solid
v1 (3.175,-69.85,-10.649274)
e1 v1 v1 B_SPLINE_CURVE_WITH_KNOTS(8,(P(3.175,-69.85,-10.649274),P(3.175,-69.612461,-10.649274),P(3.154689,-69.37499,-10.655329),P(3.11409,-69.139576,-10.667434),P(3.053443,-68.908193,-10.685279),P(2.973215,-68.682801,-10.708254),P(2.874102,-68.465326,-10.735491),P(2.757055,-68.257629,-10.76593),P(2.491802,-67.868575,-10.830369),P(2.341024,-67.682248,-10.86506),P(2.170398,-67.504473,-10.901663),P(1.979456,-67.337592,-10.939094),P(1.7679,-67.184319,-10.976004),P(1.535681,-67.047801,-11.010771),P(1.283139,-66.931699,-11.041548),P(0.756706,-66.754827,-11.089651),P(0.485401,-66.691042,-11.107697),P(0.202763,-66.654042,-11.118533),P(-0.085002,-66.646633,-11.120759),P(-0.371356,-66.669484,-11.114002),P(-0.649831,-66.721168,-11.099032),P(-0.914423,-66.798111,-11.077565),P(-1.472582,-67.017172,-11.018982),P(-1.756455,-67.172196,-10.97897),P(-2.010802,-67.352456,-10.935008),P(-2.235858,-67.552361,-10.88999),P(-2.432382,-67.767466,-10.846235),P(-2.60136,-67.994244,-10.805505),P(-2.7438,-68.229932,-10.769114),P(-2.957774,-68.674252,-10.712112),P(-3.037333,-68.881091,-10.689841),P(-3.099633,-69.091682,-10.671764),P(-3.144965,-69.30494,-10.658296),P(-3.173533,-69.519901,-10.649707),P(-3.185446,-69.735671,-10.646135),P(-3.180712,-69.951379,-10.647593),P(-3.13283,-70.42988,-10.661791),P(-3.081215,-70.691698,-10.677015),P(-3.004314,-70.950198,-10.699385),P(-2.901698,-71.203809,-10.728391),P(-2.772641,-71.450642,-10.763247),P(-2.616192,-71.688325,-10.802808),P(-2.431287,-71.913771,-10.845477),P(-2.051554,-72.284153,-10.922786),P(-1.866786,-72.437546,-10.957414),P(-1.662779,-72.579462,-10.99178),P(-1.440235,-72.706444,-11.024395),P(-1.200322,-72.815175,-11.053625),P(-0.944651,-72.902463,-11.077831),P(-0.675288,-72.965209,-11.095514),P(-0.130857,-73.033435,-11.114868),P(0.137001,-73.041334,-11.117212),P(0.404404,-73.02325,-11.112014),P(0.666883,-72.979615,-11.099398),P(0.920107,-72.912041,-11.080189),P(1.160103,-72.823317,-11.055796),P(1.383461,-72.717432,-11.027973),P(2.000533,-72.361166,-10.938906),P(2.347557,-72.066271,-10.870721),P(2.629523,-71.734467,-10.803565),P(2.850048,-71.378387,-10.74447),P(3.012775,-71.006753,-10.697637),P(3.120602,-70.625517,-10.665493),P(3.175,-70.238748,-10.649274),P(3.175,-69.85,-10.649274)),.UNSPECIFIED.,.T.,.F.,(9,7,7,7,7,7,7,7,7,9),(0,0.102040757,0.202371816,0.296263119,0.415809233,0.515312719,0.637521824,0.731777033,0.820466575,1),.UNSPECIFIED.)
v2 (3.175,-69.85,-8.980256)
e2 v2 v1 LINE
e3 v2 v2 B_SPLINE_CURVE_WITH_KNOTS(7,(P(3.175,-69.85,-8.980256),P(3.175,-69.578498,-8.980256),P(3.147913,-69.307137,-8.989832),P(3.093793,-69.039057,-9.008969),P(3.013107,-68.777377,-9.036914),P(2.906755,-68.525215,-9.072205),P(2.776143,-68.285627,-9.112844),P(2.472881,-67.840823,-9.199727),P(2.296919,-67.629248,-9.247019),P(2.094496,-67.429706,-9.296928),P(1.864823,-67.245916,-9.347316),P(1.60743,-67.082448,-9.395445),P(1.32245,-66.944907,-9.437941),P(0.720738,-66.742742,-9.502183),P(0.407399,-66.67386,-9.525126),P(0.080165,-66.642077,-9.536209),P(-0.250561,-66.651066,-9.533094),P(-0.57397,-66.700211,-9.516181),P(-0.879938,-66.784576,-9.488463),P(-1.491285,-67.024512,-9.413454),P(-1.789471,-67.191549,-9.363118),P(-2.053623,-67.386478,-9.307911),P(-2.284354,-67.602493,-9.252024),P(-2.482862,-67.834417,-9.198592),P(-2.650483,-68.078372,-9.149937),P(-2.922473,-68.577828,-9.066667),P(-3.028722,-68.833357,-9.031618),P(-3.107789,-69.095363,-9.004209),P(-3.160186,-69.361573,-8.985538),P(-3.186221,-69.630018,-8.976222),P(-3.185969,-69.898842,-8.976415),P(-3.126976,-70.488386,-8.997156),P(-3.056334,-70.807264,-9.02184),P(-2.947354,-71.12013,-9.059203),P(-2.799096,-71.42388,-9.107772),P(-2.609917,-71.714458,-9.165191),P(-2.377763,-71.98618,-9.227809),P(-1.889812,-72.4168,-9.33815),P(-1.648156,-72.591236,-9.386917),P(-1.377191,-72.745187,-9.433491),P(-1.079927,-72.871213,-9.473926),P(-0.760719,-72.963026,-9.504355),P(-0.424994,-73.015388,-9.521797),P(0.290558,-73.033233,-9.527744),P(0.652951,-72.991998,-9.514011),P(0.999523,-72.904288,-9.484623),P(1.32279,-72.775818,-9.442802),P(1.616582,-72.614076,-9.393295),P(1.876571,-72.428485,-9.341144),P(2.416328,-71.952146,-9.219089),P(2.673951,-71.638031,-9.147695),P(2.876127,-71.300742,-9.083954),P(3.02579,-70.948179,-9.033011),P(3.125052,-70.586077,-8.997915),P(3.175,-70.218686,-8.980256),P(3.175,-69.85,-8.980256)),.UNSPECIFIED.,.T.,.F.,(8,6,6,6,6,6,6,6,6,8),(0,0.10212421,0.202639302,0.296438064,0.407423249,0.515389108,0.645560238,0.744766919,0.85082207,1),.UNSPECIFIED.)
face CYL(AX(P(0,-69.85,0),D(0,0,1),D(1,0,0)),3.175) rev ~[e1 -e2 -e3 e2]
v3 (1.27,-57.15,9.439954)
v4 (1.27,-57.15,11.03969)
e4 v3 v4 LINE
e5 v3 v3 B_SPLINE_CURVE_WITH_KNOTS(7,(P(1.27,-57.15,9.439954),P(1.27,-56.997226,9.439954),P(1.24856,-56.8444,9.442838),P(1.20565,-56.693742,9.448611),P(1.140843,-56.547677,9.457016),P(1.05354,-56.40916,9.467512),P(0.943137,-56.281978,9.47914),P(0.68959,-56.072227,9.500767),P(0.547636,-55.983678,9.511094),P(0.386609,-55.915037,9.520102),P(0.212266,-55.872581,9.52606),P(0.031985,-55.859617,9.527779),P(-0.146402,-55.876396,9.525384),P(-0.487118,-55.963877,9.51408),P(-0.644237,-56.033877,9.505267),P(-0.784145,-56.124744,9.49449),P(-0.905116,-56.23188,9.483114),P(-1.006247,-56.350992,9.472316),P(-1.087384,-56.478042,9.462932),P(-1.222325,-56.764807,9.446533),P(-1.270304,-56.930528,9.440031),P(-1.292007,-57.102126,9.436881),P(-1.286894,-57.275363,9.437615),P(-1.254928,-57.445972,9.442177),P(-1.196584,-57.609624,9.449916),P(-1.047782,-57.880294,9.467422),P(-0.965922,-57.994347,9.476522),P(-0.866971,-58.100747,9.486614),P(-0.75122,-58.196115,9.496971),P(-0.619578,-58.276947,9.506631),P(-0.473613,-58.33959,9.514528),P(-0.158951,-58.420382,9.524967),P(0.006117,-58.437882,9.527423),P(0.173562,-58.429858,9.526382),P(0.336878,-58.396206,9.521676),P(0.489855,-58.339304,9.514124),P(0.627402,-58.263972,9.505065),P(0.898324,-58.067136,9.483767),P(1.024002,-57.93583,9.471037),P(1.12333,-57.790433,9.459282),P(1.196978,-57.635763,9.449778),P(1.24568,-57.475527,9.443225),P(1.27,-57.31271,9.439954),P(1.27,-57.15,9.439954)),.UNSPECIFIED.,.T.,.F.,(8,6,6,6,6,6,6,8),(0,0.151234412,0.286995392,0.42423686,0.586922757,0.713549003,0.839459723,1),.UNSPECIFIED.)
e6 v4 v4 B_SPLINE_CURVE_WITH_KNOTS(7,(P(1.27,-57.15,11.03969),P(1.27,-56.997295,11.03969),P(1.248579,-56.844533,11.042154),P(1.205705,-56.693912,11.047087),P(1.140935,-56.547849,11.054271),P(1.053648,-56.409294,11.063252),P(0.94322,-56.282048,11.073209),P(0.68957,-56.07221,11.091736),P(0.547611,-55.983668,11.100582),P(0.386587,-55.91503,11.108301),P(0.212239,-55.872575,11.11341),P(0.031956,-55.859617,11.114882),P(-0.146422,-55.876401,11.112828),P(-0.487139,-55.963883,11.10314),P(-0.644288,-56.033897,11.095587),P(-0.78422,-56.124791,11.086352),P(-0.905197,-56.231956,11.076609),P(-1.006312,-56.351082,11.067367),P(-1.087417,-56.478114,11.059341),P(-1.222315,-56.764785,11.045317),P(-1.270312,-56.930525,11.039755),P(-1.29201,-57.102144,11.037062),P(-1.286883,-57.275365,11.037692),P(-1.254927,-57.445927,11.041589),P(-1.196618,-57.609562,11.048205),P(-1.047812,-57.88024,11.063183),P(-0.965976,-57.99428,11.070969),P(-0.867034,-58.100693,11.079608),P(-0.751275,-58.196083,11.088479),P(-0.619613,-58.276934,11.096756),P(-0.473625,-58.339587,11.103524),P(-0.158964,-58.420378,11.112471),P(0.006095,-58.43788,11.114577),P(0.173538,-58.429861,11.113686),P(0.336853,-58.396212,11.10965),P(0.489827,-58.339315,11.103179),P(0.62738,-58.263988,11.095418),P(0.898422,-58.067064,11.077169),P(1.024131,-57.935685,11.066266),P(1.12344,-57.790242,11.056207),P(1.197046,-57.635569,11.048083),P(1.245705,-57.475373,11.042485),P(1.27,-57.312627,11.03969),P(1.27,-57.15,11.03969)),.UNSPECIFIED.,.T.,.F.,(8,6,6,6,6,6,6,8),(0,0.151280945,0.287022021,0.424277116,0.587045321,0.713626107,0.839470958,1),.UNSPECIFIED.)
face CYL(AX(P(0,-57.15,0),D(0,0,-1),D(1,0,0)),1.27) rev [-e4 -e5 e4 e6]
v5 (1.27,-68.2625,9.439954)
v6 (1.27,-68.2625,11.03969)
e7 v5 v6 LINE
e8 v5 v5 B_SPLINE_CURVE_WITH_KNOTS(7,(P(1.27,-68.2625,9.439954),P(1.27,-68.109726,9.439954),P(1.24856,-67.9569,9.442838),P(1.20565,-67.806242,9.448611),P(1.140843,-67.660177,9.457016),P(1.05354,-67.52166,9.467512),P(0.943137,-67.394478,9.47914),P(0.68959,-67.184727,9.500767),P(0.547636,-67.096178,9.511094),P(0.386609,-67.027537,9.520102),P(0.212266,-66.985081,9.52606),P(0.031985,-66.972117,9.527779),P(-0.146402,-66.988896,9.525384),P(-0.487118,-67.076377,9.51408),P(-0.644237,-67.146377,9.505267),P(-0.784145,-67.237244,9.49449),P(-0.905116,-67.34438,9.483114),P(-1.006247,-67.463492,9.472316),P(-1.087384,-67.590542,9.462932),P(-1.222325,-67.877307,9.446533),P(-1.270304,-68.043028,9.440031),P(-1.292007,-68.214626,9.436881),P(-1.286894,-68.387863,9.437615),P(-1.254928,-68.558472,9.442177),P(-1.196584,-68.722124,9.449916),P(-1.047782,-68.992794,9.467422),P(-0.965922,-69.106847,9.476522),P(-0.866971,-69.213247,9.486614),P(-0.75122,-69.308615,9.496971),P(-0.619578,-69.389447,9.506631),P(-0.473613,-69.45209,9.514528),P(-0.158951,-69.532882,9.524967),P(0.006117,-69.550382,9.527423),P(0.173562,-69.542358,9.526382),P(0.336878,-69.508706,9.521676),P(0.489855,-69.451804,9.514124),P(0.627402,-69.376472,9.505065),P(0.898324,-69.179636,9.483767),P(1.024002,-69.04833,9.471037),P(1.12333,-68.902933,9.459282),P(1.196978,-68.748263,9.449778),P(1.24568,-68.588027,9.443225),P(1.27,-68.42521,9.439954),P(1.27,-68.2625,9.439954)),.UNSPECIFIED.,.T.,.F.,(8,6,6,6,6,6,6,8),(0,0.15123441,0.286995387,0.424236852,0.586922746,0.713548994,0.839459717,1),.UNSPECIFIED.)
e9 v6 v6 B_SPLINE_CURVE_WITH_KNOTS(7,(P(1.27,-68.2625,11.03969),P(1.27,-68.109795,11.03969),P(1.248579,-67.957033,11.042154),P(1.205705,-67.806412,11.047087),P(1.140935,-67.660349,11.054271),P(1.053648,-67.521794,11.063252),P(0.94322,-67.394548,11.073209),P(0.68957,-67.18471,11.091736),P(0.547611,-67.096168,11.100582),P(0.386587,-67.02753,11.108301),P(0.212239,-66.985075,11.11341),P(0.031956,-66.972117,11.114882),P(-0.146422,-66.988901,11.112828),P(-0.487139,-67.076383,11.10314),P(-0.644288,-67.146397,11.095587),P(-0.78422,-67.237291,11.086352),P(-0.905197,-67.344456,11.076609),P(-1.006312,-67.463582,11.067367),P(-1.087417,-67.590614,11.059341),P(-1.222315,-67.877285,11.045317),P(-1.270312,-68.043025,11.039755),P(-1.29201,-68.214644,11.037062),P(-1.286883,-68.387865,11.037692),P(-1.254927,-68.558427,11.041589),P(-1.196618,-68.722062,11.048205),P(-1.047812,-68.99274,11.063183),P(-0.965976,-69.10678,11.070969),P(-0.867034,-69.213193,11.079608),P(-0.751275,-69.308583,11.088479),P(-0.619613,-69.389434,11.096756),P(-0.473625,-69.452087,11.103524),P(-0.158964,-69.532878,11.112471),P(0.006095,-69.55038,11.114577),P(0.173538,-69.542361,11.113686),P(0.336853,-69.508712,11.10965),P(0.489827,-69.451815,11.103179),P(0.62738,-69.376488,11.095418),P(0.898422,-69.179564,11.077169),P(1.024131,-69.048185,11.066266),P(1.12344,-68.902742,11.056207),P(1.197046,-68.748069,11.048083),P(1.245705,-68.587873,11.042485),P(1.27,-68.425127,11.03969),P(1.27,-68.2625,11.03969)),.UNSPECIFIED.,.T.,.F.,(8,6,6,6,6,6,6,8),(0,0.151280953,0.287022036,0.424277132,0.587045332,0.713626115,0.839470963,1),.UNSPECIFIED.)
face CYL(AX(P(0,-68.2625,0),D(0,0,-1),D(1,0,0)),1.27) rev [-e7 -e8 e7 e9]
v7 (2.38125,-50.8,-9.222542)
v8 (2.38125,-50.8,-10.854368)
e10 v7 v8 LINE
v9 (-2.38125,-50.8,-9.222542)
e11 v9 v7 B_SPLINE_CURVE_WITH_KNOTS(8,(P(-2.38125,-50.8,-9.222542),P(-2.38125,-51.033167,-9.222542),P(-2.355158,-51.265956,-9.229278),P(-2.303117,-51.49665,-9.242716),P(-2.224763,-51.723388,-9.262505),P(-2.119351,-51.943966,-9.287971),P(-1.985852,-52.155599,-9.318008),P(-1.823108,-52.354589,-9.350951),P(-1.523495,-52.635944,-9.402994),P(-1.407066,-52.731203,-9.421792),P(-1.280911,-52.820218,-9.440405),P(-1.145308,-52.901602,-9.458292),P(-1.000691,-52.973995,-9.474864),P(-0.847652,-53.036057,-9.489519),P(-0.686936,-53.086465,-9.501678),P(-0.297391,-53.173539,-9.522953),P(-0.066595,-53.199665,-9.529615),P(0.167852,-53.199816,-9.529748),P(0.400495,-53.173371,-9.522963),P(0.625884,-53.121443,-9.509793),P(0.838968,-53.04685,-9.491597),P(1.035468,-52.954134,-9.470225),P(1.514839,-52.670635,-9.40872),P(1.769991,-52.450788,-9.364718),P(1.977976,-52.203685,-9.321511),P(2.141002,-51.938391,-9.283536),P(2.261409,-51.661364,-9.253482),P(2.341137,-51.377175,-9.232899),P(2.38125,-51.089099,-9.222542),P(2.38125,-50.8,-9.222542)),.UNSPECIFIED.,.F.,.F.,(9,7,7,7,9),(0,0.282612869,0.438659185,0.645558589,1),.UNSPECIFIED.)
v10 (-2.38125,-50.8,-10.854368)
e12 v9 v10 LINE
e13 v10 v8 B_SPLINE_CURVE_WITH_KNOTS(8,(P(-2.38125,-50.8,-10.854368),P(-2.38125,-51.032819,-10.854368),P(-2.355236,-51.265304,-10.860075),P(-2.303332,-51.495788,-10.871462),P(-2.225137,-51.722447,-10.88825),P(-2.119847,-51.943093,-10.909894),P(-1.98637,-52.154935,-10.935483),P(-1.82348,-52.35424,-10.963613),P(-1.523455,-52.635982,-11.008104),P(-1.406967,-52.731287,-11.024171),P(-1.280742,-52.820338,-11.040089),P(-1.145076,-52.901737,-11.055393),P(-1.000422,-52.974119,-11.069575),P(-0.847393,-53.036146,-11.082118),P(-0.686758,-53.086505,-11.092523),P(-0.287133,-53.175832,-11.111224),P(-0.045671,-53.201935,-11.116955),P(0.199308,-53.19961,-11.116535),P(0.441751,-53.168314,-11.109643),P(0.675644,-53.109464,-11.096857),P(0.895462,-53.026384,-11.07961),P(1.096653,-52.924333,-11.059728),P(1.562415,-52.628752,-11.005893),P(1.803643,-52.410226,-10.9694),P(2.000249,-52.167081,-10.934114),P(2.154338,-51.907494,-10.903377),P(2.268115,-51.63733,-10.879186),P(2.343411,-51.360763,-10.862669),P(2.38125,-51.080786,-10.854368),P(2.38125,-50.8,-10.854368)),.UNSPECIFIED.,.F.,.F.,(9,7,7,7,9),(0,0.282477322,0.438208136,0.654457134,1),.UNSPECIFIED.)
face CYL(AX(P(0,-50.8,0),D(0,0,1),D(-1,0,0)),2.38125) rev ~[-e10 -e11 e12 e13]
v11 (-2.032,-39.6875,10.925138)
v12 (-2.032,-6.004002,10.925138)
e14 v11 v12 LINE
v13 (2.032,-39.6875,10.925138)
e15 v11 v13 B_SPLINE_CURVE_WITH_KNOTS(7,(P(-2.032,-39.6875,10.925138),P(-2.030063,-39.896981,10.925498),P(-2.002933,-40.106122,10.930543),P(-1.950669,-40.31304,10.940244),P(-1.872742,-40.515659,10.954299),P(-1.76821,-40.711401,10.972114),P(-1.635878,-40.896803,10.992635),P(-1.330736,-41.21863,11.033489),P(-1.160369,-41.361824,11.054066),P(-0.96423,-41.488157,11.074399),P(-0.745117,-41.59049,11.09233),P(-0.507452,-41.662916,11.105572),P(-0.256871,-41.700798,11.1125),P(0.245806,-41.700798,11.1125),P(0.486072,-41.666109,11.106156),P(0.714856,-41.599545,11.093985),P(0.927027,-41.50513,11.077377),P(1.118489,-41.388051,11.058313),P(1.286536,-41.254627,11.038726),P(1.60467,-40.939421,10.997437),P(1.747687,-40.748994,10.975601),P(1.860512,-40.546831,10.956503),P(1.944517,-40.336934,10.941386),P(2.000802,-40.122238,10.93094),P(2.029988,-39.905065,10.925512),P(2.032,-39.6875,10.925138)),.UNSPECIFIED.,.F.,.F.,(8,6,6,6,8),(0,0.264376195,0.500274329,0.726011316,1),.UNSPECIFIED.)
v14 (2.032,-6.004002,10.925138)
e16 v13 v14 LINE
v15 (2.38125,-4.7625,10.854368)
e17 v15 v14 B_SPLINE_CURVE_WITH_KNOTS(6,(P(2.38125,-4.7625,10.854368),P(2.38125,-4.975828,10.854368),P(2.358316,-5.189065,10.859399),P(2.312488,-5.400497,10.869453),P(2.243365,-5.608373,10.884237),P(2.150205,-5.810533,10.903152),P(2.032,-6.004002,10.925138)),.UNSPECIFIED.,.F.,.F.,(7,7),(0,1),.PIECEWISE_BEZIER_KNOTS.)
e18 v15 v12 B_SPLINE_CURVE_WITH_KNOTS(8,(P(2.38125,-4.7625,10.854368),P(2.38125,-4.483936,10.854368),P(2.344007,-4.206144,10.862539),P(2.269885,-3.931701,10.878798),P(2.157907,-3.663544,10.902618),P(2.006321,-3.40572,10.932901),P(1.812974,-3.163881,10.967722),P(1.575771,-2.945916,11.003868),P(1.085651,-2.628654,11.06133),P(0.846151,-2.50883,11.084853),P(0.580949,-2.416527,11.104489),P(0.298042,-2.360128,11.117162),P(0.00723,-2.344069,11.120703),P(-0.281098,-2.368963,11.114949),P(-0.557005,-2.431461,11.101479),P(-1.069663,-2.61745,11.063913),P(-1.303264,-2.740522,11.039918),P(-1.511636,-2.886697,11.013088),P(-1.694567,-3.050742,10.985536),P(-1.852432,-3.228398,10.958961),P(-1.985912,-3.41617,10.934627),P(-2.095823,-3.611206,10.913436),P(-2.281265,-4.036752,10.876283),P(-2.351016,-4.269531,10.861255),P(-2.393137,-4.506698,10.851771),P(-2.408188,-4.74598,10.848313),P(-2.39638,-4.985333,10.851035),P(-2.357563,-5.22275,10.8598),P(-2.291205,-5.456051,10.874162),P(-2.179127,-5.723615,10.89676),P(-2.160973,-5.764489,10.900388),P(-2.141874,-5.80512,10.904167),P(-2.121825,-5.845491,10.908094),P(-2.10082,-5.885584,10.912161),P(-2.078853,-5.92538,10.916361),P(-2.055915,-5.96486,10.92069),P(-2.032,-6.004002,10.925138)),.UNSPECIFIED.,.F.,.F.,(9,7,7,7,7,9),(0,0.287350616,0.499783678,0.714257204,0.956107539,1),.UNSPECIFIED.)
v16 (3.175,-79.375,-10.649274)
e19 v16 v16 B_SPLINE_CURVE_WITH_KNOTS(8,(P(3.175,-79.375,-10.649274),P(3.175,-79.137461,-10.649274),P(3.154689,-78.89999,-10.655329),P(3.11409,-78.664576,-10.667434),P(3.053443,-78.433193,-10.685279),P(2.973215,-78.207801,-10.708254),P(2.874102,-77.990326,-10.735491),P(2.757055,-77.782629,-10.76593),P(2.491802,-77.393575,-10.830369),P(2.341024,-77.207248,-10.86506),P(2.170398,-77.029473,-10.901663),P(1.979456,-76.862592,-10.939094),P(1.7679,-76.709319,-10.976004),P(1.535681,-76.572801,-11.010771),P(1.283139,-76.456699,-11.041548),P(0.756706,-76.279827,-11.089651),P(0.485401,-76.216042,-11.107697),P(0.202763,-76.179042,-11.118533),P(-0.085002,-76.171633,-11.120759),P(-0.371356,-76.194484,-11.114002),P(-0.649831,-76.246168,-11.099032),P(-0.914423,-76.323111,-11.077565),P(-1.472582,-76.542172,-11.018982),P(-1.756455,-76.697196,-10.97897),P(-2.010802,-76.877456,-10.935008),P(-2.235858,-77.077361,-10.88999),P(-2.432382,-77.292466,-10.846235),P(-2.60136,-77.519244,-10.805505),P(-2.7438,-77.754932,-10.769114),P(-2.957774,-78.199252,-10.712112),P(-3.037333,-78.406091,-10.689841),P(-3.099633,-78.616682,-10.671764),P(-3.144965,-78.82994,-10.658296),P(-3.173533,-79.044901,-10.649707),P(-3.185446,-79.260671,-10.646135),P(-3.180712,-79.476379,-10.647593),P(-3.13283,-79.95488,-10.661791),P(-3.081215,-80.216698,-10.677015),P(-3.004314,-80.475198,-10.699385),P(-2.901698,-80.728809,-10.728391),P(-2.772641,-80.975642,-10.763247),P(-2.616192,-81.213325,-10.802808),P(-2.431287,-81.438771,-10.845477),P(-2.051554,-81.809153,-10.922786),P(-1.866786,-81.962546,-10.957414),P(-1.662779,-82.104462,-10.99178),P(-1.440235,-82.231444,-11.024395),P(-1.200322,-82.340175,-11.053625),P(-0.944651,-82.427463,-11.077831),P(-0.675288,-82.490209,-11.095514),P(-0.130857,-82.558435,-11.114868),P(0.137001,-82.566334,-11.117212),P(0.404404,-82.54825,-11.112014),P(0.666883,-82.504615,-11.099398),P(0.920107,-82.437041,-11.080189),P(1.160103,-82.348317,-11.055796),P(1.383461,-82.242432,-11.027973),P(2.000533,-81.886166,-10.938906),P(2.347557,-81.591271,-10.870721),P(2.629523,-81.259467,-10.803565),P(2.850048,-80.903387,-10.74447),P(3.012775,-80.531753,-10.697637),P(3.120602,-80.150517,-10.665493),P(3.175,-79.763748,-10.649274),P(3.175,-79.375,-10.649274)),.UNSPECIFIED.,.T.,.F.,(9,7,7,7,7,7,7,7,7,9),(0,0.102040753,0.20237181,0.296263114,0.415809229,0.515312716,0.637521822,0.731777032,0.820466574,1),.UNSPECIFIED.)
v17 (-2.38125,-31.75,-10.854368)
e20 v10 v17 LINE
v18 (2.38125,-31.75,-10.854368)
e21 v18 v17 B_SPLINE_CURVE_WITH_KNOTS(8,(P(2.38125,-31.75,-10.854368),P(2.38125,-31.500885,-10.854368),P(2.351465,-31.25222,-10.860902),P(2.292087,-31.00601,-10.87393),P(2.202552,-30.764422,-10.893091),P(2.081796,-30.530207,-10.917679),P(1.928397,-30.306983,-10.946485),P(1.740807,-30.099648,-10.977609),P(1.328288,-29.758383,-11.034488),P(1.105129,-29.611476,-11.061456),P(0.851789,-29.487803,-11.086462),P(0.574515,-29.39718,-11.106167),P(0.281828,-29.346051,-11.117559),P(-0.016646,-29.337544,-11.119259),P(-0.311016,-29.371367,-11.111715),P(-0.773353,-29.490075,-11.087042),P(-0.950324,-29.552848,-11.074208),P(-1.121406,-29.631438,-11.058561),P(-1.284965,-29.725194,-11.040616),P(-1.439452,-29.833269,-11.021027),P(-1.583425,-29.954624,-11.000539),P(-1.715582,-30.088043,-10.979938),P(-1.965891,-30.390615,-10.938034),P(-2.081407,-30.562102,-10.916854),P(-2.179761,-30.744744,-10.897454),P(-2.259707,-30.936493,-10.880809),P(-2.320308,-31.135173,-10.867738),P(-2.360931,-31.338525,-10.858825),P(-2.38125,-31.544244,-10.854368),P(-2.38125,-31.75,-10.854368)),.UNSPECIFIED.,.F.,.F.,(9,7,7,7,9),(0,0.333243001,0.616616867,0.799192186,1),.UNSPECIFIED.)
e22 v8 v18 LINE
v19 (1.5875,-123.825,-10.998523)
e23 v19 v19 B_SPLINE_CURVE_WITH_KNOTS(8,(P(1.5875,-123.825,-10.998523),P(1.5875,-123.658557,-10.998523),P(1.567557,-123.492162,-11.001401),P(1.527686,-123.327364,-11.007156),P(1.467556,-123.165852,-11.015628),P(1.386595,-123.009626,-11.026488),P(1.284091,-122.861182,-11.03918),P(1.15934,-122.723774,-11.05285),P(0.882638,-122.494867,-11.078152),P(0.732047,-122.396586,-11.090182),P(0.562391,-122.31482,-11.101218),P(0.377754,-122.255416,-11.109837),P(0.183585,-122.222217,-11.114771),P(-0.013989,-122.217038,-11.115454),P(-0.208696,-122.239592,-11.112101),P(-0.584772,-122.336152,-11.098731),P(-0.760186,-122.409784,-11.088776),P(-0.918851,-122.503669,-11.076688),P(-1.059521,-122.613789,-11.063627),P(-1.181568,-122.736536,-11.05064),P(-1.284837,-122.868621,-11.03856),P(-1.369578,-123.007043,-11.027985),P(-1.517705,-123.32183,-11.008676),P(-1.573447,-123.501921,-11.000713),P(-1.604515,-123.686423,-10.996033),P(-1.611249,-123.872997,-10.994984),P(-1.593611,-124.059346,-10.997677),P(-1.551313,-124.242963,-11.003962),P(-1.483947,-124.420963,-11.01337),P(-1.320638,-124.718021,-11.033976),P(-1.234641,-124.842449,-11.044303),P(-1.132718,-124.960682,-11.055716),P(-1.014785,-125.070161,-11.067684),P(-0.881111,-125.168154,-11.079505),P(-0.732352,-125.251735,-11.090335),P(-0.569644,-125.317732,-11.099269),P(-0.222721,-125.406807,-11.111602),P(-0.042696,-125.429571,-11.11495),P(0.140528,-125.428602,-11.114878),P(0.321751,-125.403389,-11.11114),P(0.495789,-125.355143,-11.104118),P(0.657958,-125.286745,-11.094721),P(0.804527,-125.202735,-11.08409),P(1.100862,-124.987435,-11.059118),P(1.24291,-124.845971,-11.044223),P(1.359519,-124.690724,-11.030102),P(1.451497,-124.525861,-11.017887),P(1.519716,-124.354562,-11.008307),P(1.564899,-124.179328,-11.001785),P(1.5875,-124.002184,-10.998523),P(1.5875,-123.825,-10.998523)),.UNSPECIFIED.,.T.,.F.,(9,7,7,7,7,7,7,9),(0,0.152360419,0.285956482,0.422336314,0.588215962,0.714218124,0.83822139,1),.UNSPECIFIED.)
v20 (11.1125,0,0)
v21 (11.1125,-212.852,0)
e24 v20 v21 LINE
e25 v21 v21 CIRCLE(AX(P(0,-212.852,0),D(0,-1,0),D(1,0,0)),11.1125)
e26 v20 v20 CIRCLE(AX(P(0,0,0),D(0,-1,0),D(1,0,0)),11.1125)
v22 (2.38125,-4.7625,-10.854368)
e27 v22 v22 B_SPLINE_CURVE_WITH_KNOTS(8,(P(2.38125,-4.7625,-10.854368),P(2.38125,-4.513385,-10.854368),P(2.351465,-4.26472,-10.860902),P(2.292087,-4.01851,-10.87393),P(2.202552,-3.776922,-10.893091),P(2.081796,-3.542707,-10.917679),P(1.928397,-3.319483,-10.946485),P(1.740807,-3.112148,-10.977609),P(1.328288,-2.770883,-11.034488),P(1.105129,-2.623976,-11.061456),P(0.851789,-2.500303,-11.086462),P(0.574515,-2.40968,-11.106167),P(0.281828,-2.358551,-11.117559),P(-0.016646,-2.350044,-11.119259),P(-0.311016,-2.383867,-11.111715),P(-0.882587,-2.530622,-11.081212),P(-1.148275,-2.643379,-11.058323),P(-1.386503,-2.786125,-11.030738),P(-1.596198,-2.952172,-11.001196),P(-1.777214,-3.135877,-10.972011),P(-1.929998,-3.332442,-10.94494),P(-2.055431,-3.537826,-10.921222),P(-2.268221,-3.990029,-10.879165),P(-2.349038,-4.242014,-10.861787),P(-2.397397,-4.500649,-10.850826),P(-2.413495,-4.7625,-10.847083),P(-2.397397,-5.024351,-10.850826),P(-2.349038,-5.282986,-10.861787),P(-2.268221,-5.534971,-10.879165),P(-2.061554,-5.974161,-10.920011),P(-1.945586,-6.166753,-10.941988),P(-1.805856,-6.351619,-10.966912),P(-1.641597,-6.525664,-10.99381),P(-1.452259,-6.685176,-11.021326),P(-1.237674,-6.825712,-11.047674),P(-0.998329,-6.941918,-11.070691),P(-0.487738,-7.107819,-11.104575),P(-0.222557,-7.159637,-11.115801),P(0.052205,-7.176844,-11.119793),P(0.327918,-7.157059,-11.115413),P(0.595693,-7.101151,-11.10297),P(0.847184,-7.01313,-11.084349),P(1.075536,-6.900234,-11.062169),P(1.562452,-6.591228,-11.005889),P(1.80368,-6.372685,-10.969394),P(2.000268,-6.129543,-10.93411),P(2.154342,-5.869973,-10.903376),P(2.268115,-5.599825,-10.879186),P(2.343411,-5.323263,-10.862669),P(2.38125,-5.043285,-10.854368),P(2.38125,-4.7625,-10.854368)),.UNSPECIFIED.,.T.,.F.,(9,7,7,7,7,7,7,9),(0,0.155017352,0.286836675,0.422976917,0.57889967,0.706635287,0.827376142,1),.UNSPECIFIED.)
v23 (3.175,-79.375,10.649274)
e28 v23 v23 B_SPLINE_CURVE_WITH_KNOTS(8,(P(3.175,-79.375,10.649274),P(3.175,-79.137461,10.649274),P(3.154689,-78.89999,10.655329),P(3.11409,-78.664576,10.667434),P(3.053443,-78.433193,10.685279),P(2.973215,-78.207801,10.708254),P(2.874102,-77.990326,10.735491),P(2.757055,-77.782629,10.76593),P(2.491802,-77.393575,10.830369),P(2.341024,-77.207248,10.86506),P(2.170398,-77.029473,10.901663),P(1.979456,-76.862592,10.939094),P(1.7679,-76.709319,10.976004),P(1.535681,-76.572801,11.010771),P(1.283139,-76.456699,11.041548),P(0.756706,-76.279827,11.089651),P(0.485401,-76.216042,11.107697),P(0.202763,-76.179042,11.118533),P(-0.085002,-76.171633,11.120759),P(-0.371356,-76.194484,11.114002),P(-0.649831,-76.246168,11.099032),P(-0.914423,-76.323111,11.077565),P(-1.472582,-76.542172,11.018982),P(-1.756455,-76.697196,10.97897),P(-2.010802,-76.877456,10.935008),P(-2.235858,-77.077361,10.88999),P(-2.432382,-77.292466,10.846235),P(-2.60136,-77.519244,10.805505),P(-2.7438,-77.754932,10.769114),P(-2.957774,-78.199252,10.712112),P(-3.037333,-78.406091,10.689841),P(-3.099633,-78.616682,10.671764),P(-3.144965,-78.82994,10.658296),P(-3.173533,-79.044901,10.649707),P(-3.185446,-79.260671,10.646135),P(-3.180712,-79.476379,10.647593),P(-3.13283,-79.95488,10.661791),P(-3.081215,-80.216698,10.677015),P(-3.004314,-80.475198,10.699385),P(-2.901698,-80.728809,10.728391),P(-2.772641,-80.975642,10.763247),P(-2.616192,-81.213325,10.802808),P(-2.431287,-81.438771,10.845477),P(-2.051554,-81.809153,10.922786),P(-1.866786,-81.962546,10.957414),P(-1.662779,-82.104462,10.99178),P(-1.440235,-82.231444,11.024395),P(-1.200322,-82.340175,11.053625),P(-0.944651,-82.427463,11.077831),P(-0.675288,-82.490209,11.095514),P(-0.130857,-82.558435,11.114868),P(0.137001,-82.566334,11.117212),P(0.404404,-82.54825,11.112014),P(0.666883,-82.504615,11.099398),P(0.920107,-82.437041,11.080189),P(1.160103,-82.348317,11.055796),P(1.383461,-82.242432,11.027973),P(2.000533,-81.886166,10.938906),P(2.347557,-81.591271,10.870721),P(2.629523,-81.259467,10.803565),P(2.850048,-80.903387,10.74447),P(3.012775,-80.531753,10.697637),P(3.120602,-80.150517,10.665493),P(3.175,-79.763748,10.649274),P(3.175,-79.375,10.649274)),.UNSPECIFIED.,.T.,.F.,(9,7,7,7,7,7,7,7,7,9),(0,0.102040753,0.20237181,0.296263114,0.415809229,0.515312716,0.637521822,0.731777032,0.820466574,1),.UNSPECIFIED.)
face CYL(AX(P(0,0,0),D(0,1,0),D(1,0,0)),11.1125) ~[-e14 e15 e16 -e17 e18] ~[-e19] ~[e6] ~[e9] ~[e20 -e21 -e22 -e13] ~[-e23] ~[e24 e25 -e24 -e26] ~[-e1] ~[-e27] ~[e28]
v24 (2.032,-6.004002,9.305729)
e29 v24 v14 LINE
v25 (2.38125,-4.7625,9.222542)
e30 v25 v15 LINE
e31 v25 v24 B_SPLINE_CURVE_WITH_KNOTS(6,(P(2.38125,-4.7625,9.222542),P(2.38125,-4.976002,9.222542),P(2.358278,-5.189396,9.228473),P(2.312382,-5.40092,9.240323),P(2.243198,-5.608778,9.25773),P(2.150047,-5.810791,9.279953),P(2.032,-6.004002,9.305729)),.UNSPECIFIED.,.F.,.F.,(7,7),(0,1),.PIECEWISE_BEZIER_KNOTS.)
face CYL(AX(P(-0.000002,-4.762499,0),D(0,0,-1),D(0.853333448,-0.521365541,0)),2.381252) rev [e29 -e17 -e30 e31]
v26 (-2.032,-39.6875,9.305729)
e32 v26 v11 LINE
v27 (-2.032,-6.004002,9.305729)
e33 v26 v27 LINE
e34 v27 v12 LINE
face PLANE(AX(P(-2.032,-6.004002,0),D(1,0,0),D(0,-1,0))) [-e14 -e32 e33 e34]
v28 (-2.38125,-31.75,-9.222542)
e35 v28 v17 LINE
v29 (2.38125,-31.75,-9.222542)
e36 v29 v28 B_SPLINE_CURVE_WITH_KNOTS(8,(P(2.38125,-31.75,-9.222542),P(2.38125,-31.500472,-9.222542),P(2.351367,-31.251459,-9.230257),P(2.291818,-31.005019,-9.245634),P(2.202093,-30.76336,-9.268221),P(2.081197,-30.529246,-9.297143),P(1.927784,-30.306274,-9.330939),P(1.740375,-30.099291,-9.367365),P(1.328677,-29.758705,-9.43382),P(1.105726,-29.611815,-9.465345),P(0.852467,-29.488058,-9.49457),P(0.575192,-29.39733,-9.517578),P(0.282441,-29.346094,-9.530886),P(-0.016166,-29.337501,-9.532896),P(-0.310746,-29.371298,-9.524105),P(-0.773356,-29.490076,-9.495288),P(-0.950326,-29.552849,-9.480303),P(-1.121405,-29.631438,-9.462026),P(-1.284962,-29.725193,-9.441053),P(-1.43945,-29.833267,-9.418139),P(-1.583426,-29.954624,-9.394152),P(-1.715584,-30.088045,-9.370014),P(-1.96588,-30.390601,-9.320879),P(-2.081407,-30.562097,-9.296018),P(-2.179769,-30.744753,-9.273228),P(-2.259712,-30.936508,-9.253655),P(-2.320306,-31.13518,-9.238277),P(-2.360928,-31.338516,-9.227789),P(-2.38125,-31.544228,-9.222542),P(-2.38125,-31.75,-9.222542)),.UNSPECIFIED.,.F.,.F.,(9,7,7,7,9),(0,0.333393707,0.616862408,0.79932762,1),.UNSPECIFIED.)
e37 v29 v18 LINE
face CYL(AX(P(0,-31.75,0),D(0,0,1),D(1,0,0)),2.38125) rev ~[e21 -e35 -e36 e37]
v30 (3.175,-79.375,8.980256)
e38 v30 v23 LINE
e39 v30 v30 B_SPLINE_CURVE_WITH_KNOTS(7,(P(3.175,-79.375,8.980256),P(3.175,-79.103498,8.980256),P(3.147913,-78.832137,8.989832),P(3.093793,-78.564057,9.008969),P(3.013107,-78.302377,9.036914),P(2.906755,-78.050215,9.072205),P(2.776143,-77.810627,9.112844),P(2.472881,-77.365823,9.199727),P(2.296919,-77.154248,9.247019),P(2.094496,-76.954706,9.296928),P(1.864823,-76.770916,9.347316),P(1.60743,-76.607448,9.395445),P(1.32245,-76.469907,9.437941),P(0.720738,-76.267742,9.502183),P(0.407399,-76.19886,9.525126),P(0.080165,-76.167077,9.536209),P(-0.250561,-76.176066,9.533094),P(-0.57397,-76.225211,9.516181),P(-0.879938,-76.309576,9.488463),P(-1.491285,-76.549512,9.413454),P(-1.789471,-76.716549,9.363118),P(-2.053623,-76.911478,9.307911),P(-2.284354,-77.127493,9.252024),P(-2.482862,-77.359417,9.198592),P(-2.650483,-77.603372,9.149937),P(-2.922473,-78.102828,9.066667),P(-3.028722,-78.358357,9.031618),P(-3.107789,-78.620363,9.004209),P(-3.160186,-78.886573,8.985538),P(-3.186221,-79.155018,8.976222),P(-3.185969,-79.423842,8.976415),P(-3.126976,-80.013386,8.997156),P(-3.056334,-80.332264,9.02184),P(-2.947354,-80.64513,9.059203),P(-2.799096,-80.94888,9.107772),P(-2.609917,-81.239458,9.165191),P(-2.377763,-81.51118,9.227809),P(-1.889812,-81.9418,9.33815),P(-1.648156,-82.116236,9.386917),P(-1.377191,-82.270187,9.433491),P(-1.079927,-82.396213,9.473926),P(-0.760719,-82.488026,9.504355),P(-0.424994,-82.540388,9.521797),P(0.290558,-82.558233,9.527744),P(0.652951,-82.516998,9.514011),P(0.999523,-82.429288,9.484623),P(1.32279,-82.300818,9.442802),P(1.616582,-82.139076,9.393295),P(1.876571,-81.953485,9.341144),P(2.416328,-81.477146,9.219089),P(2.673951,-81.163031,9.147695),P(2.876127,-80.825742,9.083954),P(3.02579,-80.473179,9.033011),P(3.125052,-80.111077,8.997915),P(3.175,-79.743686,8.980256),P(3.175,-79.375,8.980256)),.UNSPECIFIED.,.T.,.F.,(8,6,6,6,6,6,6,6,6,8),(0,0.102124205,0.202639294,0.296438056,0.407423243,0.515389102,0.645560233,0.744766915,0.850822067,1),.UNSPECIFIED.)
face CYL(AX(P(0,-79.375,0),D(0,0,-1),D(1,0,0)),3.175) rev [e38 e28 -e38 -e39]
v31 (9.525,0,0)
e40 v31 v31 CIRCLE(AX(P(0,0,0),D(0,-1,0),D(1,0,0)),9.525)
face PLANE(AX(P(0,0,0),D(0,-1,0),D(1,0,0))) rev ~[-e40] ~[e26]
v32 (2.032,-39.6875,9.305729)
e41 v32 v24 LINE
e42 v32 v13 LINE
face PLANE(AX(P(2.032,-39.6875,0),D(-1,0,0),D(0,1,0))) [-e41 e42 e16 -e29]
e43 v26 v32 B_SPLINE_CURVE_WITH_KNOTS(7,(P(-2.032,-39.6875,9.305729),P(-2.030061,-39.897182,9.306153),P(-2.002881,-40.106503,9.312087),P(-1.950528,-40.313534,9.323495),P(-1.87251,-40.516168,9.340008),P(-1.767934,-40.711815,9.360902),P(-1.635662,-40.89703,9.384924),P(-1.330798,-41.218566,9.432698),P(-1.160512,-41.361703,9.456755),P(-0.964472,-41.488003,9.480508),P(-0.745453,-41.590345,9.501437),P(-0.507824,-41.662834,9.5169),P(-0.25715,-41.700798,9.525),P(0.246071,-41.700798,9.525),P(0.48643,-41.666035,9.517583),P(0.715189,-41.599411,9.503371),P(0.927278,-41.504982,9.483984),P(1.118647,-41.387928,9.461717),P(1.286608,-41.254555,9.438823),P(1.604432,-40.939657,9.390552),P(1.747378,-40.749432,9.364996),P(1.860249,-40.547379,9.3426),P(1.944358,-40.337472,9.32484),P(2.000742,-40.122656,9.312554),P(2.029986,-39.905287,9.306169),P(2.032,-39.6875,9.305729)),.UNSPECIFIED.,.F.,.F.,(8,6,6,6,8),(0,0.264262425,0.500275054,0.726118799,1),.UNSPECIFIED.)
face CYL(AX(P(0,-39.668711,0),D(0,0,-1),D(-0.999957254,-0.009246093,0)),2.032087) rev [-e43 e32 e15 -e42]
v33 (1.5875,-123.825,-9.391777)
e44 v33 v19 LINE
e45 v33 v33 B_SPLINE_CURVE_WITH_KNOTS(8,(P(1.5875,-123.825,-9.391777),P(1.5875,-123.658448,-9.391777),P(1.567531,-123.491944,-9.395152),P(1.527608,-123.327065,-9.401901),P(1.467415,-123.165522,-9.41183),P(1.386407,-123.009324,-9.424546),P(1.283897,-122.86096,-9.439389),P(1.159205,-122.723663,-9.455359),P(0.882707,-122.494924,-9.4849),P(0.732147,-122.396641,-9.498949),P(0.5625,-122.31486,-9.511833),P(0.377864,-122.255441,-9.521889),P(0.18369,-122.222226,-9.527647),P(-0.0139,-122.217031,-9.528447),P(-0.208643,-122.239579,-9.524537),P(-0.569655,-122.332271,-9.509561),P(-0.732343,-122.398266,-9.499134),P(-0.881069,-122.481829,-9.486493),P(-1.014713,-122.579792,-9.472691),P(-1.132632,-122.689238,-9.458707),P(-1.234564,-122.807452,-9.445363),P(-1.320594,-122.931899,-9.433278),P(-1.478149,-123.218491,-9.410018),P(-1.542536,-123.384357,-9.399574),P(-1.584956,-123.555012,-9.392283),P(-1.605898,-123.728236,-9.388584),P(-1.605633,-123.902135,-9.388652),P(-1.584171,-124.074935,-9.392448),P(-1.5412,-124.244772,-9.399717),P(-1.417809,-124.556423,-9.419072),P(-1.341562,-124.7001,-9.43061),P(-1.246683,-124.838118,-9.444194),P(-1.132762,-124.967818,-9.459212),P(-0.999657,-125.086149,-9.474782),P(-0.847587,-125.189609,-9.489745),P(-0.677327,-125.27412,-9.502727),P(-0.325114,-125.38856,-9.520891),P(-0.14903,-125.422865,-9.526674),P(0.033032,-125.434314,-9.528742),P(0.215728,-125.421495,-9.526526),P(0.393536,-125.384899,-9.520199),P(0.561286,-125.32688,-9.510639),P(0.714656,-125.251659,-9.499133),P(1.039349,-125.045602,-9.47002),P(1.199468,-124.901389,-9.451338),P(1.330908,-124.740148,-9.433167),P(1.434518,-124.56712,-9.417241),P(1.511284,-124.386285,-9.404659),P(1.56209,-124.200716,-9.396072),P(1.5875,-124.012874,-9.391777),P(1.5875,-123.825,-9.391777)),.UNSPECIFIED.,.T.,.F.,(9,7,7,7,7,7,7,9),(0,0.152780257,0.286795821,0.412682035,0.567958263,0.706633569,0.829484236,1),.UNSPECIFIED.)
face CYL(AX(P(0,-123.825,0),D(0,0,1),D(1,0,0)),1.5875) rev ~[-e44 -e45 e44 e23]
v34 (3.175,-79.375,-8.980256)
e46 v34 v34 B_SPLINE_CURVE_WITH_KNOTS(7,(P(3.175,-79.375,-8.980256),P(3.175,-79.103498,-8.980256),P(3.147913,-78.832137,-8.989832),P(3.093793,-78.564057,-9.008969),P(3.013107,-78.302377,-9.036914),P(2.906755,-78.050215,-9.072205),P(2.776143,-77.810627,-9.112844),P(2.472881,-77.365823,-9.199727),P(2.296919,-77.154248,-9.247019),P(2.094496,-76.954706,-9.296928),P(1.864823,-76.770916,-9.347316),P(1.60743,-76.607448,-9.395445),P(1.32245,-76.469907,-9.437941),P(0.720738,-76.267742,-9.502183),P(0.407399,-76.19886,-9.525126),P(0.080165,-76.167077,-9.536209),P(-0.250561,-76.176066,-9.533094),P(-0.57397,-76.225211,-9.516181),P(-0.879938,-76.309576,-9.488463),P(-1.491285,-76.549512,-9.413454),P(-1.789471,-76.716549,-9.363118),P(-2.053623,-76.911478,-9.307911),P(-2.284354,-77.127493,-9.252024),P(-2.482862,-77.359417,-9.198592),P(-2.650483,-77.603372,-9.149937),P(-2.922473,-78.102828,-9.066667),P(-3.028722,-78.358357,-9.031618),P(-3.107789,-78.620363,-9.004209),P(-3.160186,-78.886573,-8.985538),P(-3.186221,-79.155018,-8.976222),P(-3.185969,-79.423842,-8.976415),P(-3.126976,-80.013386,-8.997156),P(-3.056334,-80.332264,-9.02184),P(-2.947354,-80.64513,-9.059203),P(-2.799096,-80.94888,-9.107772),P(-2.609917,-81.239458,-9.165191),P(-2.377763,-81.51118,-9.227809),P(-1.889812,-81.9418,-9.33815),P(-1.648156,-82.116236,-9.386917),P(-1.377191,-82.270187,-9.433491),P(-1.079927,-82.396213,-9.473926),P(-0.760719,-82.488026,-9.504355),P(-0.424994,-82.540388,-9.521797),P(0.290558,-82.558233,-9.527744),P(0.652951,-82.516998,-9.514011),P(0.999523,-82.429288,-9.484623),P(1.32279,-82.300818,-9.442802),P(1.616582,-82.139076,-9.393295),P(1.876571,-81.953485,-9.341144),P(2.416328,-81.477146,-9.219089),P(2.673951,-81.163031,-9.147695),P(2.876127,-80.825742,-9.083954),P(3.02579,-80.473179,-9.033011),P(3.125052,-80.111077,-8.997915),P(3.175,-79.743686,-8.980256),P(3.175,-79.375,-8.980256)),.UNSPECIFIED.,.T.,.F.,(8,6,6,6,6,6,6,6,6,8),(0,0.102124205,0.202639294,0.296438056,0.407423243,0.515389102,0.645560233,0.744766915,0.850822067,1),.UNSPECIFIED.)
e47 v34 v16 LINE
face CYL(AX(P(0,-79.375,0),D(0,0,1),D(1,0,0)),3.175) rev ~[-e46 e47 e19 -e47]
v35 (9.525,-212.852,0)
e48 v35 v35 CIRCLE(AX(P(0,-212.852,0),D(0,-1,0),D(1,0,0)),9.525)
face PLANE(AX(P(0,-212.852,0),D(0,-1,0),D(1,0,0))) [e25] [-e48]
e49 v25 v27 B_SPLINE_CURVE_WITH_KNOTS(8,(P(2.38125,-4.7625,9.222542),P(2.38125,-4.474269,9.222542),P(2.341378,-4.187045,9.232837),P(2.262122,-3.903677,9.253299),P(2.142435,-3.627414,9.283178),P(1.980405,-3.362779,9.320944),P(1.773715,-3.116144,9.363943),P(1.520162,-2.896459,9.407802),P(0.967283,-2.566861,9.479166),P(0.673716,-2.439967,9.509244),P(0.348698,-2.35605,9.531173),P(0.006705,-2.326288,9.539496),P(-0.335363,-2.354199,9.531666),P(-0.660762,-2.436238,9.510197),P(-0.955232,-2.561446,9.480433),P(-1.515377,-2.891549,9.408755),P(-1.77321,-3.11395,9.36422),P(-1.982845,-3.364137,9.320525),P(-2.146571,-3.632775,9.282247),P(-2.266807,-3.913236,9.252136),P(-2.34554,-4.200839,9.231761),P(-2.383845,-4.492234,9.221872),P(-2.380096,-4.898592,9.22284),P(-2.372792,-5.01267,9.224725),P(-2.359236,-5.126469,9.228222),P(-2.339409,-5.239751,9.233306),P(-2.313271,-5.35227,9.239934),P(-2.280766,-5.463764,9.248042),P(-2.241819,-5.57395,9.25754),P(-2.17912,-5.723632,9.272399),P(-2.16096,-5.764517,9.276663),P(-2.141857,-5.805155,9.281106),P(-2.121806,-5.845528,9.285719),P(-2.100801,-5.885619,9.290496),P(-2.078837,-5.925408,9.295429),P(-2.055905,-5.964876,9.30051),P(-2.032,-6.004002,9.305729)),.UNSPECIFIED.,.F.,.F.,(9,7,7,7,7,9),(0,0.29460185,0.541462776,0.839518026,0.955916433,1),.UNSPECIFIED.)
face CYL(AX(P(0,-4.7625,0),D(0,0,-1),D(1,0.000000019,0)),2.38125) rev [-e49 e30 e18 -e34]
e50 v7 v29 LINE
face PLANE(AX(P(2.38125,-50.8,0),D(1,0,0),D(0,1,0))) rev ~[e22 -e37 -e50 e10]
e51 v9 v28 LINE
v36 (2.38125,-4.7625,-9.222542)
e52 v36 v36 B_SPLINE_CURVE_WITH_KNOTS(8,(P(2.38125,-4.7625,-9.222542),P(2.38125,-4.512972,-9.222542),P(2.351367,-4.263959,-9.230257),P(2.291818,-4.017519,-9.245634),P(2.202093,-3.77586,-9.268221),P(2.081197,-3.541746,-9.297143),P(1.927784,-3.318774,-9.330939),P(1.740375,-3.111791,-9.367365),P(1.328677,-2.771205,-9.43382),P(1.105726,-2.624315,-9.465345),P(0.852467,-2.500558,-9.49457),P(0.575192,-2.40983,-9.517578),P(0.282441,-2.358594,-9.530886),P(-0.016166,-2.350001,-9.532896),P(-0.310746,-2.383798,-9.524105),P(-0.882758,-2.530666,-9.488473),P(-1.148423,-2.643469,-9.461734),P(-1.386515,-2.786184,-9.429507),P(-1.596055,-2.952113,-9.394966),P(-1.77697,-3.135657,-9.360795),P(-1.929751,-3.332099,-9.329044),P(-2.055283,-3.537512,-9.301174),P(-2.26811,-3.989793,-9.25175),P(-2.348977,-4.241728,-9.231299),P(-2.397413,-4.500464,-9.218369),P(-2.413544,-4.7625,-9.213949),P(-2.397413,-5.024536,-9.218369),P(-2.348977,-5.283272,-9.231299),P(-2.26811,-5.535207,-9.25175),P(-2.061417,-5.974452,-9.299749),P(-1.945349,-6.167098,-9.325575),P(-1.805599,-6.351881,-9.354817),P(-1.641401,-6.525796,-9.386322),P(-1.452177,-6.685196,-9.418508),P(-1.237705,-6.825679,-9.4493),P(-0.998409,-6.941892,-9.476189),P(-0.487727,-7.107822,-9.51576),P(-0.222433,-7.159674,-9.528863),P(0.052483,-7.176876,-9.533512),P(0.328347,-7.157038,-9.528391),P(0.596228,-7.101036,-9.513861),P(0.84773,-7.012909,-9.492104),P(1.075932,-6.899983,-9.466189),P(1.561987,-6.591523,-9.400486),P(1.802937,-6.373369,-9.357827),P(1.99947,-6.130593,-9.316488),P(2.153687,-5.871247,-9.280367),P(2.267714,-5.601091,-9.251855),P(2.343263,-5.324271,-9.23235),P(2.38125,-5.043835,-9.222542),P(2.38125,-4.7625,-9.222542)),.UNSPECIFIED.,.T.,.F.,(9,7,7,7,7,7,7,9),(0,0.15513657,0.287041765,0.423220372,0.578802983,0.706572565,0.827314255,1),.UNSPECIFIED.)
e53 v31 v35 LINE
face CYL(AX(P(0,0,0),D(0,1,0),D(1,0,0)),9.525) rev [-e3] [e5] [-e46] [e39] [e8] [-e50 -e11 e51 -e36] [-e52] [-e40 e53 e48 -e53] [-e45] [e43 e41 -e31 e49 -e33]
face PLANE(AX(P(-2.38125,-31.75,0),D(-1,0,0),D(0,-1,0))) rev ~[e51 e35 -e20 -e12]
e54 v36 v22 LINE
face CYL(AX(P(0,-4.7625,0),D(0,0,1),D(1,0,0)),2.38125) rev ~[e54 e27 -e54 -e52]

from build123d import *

# Parameters (mm, degrees)
F0_R     = 11.1125
F0_R_2   = 9.525
F1_DEPTH = 212.852
F2_R     = 2.38125
F2_R_2   = 3.175
F2_R_3   = 1.5875
F3_DEPTH = 25.4
F4_R     = 1.27
F4_R_2   = 3.175
F5_DEPTH = 25.4


with BuildPart() as f1:
    # F0 (on Front) → F1 (new body)
    with BuildSketch(Plane.XZ):
        Circle(F0_R)
        Circle(F0_R_2, mode=Mode.SUBTRACT)
    extrude(amount=F1_DEPTH)

    # F2 (on Top) → F3 (cut)
    with BuildSketch(Plane.XY):
        with Locations((0, -4.7625)):
            Circle(F2_R)
        with BuildLine():
            ThreePointArc((-2.38125, -50.8), (0, -53.18125), (2.38125, -50.8))
            Line((2.38125, -50.8), (2.38125, -31.75))
            ThreePointArc((2.38125, -31.75), (0, -29.36875), (-2.38125, -31.75))
            Line((-2.38125, -31.75), (-2.38125, -50.8))
        make_face()
        with Locations((0, -69.85)):
            Circle(F2_R_2)
        with Locations((0, -79.375)):
            Circle(F2_R_2)
        with Locations((0, -123.825)):
            Circle(F2_R_3)
    extrude(amount=-F3_DEPTH, mode=Mode.SUBTRACT)

    # F4 (on Top) → F5 (cut)
    with BuildSketch(Plane.XY):
        with BuildLine():
            ThreePointArc((2.032, -6.004002), (2.292275, -5.407346), (2.38125, -4.7625))
            ThreePointArc((2.38125, -4.7625), (-0.644846, -2.470225), (-2.032, -6.004002))
            ThreePointArc((-2.032, -6.004002), (0, -7.14375), (2.032, -6.004002))
        make_face()
        with BuildLine():
            ThreePointArc((2.032, -6.004002), (0, -7.14375), (-2.032, -6.004002))
            Line((-2.032, -6.004002), (-2.032, -39.6875))
            Line((-2.032, -39.6875), (0, -39.6875))
            Line((0, -39.6875), (2.032, -39.6875))
            Line((2.032, -39.6875), (2.032, -6.004002))
        make_face()
        with BuildLine():
            Line((0, -39.6875), (-2.032, -39.6875))
            ThreePointArc((-2.032, -39.6875), (0, -41.700798), (2.032, -39.6875))
            Line((2.032, -39.6875), (0, -39.6875))
        make_face()
        with Locations((0, -57.15)):
            Circle(F4_R)
        with Locations((0, -68.2625)):
            Circle(F4_R)
        with Locations((0, -79.375)):
            Circle(F4_R_2)
    extrude(amount=F5_DEPTH, mode=Mode.SUBTRACT)


solid = f1.part
